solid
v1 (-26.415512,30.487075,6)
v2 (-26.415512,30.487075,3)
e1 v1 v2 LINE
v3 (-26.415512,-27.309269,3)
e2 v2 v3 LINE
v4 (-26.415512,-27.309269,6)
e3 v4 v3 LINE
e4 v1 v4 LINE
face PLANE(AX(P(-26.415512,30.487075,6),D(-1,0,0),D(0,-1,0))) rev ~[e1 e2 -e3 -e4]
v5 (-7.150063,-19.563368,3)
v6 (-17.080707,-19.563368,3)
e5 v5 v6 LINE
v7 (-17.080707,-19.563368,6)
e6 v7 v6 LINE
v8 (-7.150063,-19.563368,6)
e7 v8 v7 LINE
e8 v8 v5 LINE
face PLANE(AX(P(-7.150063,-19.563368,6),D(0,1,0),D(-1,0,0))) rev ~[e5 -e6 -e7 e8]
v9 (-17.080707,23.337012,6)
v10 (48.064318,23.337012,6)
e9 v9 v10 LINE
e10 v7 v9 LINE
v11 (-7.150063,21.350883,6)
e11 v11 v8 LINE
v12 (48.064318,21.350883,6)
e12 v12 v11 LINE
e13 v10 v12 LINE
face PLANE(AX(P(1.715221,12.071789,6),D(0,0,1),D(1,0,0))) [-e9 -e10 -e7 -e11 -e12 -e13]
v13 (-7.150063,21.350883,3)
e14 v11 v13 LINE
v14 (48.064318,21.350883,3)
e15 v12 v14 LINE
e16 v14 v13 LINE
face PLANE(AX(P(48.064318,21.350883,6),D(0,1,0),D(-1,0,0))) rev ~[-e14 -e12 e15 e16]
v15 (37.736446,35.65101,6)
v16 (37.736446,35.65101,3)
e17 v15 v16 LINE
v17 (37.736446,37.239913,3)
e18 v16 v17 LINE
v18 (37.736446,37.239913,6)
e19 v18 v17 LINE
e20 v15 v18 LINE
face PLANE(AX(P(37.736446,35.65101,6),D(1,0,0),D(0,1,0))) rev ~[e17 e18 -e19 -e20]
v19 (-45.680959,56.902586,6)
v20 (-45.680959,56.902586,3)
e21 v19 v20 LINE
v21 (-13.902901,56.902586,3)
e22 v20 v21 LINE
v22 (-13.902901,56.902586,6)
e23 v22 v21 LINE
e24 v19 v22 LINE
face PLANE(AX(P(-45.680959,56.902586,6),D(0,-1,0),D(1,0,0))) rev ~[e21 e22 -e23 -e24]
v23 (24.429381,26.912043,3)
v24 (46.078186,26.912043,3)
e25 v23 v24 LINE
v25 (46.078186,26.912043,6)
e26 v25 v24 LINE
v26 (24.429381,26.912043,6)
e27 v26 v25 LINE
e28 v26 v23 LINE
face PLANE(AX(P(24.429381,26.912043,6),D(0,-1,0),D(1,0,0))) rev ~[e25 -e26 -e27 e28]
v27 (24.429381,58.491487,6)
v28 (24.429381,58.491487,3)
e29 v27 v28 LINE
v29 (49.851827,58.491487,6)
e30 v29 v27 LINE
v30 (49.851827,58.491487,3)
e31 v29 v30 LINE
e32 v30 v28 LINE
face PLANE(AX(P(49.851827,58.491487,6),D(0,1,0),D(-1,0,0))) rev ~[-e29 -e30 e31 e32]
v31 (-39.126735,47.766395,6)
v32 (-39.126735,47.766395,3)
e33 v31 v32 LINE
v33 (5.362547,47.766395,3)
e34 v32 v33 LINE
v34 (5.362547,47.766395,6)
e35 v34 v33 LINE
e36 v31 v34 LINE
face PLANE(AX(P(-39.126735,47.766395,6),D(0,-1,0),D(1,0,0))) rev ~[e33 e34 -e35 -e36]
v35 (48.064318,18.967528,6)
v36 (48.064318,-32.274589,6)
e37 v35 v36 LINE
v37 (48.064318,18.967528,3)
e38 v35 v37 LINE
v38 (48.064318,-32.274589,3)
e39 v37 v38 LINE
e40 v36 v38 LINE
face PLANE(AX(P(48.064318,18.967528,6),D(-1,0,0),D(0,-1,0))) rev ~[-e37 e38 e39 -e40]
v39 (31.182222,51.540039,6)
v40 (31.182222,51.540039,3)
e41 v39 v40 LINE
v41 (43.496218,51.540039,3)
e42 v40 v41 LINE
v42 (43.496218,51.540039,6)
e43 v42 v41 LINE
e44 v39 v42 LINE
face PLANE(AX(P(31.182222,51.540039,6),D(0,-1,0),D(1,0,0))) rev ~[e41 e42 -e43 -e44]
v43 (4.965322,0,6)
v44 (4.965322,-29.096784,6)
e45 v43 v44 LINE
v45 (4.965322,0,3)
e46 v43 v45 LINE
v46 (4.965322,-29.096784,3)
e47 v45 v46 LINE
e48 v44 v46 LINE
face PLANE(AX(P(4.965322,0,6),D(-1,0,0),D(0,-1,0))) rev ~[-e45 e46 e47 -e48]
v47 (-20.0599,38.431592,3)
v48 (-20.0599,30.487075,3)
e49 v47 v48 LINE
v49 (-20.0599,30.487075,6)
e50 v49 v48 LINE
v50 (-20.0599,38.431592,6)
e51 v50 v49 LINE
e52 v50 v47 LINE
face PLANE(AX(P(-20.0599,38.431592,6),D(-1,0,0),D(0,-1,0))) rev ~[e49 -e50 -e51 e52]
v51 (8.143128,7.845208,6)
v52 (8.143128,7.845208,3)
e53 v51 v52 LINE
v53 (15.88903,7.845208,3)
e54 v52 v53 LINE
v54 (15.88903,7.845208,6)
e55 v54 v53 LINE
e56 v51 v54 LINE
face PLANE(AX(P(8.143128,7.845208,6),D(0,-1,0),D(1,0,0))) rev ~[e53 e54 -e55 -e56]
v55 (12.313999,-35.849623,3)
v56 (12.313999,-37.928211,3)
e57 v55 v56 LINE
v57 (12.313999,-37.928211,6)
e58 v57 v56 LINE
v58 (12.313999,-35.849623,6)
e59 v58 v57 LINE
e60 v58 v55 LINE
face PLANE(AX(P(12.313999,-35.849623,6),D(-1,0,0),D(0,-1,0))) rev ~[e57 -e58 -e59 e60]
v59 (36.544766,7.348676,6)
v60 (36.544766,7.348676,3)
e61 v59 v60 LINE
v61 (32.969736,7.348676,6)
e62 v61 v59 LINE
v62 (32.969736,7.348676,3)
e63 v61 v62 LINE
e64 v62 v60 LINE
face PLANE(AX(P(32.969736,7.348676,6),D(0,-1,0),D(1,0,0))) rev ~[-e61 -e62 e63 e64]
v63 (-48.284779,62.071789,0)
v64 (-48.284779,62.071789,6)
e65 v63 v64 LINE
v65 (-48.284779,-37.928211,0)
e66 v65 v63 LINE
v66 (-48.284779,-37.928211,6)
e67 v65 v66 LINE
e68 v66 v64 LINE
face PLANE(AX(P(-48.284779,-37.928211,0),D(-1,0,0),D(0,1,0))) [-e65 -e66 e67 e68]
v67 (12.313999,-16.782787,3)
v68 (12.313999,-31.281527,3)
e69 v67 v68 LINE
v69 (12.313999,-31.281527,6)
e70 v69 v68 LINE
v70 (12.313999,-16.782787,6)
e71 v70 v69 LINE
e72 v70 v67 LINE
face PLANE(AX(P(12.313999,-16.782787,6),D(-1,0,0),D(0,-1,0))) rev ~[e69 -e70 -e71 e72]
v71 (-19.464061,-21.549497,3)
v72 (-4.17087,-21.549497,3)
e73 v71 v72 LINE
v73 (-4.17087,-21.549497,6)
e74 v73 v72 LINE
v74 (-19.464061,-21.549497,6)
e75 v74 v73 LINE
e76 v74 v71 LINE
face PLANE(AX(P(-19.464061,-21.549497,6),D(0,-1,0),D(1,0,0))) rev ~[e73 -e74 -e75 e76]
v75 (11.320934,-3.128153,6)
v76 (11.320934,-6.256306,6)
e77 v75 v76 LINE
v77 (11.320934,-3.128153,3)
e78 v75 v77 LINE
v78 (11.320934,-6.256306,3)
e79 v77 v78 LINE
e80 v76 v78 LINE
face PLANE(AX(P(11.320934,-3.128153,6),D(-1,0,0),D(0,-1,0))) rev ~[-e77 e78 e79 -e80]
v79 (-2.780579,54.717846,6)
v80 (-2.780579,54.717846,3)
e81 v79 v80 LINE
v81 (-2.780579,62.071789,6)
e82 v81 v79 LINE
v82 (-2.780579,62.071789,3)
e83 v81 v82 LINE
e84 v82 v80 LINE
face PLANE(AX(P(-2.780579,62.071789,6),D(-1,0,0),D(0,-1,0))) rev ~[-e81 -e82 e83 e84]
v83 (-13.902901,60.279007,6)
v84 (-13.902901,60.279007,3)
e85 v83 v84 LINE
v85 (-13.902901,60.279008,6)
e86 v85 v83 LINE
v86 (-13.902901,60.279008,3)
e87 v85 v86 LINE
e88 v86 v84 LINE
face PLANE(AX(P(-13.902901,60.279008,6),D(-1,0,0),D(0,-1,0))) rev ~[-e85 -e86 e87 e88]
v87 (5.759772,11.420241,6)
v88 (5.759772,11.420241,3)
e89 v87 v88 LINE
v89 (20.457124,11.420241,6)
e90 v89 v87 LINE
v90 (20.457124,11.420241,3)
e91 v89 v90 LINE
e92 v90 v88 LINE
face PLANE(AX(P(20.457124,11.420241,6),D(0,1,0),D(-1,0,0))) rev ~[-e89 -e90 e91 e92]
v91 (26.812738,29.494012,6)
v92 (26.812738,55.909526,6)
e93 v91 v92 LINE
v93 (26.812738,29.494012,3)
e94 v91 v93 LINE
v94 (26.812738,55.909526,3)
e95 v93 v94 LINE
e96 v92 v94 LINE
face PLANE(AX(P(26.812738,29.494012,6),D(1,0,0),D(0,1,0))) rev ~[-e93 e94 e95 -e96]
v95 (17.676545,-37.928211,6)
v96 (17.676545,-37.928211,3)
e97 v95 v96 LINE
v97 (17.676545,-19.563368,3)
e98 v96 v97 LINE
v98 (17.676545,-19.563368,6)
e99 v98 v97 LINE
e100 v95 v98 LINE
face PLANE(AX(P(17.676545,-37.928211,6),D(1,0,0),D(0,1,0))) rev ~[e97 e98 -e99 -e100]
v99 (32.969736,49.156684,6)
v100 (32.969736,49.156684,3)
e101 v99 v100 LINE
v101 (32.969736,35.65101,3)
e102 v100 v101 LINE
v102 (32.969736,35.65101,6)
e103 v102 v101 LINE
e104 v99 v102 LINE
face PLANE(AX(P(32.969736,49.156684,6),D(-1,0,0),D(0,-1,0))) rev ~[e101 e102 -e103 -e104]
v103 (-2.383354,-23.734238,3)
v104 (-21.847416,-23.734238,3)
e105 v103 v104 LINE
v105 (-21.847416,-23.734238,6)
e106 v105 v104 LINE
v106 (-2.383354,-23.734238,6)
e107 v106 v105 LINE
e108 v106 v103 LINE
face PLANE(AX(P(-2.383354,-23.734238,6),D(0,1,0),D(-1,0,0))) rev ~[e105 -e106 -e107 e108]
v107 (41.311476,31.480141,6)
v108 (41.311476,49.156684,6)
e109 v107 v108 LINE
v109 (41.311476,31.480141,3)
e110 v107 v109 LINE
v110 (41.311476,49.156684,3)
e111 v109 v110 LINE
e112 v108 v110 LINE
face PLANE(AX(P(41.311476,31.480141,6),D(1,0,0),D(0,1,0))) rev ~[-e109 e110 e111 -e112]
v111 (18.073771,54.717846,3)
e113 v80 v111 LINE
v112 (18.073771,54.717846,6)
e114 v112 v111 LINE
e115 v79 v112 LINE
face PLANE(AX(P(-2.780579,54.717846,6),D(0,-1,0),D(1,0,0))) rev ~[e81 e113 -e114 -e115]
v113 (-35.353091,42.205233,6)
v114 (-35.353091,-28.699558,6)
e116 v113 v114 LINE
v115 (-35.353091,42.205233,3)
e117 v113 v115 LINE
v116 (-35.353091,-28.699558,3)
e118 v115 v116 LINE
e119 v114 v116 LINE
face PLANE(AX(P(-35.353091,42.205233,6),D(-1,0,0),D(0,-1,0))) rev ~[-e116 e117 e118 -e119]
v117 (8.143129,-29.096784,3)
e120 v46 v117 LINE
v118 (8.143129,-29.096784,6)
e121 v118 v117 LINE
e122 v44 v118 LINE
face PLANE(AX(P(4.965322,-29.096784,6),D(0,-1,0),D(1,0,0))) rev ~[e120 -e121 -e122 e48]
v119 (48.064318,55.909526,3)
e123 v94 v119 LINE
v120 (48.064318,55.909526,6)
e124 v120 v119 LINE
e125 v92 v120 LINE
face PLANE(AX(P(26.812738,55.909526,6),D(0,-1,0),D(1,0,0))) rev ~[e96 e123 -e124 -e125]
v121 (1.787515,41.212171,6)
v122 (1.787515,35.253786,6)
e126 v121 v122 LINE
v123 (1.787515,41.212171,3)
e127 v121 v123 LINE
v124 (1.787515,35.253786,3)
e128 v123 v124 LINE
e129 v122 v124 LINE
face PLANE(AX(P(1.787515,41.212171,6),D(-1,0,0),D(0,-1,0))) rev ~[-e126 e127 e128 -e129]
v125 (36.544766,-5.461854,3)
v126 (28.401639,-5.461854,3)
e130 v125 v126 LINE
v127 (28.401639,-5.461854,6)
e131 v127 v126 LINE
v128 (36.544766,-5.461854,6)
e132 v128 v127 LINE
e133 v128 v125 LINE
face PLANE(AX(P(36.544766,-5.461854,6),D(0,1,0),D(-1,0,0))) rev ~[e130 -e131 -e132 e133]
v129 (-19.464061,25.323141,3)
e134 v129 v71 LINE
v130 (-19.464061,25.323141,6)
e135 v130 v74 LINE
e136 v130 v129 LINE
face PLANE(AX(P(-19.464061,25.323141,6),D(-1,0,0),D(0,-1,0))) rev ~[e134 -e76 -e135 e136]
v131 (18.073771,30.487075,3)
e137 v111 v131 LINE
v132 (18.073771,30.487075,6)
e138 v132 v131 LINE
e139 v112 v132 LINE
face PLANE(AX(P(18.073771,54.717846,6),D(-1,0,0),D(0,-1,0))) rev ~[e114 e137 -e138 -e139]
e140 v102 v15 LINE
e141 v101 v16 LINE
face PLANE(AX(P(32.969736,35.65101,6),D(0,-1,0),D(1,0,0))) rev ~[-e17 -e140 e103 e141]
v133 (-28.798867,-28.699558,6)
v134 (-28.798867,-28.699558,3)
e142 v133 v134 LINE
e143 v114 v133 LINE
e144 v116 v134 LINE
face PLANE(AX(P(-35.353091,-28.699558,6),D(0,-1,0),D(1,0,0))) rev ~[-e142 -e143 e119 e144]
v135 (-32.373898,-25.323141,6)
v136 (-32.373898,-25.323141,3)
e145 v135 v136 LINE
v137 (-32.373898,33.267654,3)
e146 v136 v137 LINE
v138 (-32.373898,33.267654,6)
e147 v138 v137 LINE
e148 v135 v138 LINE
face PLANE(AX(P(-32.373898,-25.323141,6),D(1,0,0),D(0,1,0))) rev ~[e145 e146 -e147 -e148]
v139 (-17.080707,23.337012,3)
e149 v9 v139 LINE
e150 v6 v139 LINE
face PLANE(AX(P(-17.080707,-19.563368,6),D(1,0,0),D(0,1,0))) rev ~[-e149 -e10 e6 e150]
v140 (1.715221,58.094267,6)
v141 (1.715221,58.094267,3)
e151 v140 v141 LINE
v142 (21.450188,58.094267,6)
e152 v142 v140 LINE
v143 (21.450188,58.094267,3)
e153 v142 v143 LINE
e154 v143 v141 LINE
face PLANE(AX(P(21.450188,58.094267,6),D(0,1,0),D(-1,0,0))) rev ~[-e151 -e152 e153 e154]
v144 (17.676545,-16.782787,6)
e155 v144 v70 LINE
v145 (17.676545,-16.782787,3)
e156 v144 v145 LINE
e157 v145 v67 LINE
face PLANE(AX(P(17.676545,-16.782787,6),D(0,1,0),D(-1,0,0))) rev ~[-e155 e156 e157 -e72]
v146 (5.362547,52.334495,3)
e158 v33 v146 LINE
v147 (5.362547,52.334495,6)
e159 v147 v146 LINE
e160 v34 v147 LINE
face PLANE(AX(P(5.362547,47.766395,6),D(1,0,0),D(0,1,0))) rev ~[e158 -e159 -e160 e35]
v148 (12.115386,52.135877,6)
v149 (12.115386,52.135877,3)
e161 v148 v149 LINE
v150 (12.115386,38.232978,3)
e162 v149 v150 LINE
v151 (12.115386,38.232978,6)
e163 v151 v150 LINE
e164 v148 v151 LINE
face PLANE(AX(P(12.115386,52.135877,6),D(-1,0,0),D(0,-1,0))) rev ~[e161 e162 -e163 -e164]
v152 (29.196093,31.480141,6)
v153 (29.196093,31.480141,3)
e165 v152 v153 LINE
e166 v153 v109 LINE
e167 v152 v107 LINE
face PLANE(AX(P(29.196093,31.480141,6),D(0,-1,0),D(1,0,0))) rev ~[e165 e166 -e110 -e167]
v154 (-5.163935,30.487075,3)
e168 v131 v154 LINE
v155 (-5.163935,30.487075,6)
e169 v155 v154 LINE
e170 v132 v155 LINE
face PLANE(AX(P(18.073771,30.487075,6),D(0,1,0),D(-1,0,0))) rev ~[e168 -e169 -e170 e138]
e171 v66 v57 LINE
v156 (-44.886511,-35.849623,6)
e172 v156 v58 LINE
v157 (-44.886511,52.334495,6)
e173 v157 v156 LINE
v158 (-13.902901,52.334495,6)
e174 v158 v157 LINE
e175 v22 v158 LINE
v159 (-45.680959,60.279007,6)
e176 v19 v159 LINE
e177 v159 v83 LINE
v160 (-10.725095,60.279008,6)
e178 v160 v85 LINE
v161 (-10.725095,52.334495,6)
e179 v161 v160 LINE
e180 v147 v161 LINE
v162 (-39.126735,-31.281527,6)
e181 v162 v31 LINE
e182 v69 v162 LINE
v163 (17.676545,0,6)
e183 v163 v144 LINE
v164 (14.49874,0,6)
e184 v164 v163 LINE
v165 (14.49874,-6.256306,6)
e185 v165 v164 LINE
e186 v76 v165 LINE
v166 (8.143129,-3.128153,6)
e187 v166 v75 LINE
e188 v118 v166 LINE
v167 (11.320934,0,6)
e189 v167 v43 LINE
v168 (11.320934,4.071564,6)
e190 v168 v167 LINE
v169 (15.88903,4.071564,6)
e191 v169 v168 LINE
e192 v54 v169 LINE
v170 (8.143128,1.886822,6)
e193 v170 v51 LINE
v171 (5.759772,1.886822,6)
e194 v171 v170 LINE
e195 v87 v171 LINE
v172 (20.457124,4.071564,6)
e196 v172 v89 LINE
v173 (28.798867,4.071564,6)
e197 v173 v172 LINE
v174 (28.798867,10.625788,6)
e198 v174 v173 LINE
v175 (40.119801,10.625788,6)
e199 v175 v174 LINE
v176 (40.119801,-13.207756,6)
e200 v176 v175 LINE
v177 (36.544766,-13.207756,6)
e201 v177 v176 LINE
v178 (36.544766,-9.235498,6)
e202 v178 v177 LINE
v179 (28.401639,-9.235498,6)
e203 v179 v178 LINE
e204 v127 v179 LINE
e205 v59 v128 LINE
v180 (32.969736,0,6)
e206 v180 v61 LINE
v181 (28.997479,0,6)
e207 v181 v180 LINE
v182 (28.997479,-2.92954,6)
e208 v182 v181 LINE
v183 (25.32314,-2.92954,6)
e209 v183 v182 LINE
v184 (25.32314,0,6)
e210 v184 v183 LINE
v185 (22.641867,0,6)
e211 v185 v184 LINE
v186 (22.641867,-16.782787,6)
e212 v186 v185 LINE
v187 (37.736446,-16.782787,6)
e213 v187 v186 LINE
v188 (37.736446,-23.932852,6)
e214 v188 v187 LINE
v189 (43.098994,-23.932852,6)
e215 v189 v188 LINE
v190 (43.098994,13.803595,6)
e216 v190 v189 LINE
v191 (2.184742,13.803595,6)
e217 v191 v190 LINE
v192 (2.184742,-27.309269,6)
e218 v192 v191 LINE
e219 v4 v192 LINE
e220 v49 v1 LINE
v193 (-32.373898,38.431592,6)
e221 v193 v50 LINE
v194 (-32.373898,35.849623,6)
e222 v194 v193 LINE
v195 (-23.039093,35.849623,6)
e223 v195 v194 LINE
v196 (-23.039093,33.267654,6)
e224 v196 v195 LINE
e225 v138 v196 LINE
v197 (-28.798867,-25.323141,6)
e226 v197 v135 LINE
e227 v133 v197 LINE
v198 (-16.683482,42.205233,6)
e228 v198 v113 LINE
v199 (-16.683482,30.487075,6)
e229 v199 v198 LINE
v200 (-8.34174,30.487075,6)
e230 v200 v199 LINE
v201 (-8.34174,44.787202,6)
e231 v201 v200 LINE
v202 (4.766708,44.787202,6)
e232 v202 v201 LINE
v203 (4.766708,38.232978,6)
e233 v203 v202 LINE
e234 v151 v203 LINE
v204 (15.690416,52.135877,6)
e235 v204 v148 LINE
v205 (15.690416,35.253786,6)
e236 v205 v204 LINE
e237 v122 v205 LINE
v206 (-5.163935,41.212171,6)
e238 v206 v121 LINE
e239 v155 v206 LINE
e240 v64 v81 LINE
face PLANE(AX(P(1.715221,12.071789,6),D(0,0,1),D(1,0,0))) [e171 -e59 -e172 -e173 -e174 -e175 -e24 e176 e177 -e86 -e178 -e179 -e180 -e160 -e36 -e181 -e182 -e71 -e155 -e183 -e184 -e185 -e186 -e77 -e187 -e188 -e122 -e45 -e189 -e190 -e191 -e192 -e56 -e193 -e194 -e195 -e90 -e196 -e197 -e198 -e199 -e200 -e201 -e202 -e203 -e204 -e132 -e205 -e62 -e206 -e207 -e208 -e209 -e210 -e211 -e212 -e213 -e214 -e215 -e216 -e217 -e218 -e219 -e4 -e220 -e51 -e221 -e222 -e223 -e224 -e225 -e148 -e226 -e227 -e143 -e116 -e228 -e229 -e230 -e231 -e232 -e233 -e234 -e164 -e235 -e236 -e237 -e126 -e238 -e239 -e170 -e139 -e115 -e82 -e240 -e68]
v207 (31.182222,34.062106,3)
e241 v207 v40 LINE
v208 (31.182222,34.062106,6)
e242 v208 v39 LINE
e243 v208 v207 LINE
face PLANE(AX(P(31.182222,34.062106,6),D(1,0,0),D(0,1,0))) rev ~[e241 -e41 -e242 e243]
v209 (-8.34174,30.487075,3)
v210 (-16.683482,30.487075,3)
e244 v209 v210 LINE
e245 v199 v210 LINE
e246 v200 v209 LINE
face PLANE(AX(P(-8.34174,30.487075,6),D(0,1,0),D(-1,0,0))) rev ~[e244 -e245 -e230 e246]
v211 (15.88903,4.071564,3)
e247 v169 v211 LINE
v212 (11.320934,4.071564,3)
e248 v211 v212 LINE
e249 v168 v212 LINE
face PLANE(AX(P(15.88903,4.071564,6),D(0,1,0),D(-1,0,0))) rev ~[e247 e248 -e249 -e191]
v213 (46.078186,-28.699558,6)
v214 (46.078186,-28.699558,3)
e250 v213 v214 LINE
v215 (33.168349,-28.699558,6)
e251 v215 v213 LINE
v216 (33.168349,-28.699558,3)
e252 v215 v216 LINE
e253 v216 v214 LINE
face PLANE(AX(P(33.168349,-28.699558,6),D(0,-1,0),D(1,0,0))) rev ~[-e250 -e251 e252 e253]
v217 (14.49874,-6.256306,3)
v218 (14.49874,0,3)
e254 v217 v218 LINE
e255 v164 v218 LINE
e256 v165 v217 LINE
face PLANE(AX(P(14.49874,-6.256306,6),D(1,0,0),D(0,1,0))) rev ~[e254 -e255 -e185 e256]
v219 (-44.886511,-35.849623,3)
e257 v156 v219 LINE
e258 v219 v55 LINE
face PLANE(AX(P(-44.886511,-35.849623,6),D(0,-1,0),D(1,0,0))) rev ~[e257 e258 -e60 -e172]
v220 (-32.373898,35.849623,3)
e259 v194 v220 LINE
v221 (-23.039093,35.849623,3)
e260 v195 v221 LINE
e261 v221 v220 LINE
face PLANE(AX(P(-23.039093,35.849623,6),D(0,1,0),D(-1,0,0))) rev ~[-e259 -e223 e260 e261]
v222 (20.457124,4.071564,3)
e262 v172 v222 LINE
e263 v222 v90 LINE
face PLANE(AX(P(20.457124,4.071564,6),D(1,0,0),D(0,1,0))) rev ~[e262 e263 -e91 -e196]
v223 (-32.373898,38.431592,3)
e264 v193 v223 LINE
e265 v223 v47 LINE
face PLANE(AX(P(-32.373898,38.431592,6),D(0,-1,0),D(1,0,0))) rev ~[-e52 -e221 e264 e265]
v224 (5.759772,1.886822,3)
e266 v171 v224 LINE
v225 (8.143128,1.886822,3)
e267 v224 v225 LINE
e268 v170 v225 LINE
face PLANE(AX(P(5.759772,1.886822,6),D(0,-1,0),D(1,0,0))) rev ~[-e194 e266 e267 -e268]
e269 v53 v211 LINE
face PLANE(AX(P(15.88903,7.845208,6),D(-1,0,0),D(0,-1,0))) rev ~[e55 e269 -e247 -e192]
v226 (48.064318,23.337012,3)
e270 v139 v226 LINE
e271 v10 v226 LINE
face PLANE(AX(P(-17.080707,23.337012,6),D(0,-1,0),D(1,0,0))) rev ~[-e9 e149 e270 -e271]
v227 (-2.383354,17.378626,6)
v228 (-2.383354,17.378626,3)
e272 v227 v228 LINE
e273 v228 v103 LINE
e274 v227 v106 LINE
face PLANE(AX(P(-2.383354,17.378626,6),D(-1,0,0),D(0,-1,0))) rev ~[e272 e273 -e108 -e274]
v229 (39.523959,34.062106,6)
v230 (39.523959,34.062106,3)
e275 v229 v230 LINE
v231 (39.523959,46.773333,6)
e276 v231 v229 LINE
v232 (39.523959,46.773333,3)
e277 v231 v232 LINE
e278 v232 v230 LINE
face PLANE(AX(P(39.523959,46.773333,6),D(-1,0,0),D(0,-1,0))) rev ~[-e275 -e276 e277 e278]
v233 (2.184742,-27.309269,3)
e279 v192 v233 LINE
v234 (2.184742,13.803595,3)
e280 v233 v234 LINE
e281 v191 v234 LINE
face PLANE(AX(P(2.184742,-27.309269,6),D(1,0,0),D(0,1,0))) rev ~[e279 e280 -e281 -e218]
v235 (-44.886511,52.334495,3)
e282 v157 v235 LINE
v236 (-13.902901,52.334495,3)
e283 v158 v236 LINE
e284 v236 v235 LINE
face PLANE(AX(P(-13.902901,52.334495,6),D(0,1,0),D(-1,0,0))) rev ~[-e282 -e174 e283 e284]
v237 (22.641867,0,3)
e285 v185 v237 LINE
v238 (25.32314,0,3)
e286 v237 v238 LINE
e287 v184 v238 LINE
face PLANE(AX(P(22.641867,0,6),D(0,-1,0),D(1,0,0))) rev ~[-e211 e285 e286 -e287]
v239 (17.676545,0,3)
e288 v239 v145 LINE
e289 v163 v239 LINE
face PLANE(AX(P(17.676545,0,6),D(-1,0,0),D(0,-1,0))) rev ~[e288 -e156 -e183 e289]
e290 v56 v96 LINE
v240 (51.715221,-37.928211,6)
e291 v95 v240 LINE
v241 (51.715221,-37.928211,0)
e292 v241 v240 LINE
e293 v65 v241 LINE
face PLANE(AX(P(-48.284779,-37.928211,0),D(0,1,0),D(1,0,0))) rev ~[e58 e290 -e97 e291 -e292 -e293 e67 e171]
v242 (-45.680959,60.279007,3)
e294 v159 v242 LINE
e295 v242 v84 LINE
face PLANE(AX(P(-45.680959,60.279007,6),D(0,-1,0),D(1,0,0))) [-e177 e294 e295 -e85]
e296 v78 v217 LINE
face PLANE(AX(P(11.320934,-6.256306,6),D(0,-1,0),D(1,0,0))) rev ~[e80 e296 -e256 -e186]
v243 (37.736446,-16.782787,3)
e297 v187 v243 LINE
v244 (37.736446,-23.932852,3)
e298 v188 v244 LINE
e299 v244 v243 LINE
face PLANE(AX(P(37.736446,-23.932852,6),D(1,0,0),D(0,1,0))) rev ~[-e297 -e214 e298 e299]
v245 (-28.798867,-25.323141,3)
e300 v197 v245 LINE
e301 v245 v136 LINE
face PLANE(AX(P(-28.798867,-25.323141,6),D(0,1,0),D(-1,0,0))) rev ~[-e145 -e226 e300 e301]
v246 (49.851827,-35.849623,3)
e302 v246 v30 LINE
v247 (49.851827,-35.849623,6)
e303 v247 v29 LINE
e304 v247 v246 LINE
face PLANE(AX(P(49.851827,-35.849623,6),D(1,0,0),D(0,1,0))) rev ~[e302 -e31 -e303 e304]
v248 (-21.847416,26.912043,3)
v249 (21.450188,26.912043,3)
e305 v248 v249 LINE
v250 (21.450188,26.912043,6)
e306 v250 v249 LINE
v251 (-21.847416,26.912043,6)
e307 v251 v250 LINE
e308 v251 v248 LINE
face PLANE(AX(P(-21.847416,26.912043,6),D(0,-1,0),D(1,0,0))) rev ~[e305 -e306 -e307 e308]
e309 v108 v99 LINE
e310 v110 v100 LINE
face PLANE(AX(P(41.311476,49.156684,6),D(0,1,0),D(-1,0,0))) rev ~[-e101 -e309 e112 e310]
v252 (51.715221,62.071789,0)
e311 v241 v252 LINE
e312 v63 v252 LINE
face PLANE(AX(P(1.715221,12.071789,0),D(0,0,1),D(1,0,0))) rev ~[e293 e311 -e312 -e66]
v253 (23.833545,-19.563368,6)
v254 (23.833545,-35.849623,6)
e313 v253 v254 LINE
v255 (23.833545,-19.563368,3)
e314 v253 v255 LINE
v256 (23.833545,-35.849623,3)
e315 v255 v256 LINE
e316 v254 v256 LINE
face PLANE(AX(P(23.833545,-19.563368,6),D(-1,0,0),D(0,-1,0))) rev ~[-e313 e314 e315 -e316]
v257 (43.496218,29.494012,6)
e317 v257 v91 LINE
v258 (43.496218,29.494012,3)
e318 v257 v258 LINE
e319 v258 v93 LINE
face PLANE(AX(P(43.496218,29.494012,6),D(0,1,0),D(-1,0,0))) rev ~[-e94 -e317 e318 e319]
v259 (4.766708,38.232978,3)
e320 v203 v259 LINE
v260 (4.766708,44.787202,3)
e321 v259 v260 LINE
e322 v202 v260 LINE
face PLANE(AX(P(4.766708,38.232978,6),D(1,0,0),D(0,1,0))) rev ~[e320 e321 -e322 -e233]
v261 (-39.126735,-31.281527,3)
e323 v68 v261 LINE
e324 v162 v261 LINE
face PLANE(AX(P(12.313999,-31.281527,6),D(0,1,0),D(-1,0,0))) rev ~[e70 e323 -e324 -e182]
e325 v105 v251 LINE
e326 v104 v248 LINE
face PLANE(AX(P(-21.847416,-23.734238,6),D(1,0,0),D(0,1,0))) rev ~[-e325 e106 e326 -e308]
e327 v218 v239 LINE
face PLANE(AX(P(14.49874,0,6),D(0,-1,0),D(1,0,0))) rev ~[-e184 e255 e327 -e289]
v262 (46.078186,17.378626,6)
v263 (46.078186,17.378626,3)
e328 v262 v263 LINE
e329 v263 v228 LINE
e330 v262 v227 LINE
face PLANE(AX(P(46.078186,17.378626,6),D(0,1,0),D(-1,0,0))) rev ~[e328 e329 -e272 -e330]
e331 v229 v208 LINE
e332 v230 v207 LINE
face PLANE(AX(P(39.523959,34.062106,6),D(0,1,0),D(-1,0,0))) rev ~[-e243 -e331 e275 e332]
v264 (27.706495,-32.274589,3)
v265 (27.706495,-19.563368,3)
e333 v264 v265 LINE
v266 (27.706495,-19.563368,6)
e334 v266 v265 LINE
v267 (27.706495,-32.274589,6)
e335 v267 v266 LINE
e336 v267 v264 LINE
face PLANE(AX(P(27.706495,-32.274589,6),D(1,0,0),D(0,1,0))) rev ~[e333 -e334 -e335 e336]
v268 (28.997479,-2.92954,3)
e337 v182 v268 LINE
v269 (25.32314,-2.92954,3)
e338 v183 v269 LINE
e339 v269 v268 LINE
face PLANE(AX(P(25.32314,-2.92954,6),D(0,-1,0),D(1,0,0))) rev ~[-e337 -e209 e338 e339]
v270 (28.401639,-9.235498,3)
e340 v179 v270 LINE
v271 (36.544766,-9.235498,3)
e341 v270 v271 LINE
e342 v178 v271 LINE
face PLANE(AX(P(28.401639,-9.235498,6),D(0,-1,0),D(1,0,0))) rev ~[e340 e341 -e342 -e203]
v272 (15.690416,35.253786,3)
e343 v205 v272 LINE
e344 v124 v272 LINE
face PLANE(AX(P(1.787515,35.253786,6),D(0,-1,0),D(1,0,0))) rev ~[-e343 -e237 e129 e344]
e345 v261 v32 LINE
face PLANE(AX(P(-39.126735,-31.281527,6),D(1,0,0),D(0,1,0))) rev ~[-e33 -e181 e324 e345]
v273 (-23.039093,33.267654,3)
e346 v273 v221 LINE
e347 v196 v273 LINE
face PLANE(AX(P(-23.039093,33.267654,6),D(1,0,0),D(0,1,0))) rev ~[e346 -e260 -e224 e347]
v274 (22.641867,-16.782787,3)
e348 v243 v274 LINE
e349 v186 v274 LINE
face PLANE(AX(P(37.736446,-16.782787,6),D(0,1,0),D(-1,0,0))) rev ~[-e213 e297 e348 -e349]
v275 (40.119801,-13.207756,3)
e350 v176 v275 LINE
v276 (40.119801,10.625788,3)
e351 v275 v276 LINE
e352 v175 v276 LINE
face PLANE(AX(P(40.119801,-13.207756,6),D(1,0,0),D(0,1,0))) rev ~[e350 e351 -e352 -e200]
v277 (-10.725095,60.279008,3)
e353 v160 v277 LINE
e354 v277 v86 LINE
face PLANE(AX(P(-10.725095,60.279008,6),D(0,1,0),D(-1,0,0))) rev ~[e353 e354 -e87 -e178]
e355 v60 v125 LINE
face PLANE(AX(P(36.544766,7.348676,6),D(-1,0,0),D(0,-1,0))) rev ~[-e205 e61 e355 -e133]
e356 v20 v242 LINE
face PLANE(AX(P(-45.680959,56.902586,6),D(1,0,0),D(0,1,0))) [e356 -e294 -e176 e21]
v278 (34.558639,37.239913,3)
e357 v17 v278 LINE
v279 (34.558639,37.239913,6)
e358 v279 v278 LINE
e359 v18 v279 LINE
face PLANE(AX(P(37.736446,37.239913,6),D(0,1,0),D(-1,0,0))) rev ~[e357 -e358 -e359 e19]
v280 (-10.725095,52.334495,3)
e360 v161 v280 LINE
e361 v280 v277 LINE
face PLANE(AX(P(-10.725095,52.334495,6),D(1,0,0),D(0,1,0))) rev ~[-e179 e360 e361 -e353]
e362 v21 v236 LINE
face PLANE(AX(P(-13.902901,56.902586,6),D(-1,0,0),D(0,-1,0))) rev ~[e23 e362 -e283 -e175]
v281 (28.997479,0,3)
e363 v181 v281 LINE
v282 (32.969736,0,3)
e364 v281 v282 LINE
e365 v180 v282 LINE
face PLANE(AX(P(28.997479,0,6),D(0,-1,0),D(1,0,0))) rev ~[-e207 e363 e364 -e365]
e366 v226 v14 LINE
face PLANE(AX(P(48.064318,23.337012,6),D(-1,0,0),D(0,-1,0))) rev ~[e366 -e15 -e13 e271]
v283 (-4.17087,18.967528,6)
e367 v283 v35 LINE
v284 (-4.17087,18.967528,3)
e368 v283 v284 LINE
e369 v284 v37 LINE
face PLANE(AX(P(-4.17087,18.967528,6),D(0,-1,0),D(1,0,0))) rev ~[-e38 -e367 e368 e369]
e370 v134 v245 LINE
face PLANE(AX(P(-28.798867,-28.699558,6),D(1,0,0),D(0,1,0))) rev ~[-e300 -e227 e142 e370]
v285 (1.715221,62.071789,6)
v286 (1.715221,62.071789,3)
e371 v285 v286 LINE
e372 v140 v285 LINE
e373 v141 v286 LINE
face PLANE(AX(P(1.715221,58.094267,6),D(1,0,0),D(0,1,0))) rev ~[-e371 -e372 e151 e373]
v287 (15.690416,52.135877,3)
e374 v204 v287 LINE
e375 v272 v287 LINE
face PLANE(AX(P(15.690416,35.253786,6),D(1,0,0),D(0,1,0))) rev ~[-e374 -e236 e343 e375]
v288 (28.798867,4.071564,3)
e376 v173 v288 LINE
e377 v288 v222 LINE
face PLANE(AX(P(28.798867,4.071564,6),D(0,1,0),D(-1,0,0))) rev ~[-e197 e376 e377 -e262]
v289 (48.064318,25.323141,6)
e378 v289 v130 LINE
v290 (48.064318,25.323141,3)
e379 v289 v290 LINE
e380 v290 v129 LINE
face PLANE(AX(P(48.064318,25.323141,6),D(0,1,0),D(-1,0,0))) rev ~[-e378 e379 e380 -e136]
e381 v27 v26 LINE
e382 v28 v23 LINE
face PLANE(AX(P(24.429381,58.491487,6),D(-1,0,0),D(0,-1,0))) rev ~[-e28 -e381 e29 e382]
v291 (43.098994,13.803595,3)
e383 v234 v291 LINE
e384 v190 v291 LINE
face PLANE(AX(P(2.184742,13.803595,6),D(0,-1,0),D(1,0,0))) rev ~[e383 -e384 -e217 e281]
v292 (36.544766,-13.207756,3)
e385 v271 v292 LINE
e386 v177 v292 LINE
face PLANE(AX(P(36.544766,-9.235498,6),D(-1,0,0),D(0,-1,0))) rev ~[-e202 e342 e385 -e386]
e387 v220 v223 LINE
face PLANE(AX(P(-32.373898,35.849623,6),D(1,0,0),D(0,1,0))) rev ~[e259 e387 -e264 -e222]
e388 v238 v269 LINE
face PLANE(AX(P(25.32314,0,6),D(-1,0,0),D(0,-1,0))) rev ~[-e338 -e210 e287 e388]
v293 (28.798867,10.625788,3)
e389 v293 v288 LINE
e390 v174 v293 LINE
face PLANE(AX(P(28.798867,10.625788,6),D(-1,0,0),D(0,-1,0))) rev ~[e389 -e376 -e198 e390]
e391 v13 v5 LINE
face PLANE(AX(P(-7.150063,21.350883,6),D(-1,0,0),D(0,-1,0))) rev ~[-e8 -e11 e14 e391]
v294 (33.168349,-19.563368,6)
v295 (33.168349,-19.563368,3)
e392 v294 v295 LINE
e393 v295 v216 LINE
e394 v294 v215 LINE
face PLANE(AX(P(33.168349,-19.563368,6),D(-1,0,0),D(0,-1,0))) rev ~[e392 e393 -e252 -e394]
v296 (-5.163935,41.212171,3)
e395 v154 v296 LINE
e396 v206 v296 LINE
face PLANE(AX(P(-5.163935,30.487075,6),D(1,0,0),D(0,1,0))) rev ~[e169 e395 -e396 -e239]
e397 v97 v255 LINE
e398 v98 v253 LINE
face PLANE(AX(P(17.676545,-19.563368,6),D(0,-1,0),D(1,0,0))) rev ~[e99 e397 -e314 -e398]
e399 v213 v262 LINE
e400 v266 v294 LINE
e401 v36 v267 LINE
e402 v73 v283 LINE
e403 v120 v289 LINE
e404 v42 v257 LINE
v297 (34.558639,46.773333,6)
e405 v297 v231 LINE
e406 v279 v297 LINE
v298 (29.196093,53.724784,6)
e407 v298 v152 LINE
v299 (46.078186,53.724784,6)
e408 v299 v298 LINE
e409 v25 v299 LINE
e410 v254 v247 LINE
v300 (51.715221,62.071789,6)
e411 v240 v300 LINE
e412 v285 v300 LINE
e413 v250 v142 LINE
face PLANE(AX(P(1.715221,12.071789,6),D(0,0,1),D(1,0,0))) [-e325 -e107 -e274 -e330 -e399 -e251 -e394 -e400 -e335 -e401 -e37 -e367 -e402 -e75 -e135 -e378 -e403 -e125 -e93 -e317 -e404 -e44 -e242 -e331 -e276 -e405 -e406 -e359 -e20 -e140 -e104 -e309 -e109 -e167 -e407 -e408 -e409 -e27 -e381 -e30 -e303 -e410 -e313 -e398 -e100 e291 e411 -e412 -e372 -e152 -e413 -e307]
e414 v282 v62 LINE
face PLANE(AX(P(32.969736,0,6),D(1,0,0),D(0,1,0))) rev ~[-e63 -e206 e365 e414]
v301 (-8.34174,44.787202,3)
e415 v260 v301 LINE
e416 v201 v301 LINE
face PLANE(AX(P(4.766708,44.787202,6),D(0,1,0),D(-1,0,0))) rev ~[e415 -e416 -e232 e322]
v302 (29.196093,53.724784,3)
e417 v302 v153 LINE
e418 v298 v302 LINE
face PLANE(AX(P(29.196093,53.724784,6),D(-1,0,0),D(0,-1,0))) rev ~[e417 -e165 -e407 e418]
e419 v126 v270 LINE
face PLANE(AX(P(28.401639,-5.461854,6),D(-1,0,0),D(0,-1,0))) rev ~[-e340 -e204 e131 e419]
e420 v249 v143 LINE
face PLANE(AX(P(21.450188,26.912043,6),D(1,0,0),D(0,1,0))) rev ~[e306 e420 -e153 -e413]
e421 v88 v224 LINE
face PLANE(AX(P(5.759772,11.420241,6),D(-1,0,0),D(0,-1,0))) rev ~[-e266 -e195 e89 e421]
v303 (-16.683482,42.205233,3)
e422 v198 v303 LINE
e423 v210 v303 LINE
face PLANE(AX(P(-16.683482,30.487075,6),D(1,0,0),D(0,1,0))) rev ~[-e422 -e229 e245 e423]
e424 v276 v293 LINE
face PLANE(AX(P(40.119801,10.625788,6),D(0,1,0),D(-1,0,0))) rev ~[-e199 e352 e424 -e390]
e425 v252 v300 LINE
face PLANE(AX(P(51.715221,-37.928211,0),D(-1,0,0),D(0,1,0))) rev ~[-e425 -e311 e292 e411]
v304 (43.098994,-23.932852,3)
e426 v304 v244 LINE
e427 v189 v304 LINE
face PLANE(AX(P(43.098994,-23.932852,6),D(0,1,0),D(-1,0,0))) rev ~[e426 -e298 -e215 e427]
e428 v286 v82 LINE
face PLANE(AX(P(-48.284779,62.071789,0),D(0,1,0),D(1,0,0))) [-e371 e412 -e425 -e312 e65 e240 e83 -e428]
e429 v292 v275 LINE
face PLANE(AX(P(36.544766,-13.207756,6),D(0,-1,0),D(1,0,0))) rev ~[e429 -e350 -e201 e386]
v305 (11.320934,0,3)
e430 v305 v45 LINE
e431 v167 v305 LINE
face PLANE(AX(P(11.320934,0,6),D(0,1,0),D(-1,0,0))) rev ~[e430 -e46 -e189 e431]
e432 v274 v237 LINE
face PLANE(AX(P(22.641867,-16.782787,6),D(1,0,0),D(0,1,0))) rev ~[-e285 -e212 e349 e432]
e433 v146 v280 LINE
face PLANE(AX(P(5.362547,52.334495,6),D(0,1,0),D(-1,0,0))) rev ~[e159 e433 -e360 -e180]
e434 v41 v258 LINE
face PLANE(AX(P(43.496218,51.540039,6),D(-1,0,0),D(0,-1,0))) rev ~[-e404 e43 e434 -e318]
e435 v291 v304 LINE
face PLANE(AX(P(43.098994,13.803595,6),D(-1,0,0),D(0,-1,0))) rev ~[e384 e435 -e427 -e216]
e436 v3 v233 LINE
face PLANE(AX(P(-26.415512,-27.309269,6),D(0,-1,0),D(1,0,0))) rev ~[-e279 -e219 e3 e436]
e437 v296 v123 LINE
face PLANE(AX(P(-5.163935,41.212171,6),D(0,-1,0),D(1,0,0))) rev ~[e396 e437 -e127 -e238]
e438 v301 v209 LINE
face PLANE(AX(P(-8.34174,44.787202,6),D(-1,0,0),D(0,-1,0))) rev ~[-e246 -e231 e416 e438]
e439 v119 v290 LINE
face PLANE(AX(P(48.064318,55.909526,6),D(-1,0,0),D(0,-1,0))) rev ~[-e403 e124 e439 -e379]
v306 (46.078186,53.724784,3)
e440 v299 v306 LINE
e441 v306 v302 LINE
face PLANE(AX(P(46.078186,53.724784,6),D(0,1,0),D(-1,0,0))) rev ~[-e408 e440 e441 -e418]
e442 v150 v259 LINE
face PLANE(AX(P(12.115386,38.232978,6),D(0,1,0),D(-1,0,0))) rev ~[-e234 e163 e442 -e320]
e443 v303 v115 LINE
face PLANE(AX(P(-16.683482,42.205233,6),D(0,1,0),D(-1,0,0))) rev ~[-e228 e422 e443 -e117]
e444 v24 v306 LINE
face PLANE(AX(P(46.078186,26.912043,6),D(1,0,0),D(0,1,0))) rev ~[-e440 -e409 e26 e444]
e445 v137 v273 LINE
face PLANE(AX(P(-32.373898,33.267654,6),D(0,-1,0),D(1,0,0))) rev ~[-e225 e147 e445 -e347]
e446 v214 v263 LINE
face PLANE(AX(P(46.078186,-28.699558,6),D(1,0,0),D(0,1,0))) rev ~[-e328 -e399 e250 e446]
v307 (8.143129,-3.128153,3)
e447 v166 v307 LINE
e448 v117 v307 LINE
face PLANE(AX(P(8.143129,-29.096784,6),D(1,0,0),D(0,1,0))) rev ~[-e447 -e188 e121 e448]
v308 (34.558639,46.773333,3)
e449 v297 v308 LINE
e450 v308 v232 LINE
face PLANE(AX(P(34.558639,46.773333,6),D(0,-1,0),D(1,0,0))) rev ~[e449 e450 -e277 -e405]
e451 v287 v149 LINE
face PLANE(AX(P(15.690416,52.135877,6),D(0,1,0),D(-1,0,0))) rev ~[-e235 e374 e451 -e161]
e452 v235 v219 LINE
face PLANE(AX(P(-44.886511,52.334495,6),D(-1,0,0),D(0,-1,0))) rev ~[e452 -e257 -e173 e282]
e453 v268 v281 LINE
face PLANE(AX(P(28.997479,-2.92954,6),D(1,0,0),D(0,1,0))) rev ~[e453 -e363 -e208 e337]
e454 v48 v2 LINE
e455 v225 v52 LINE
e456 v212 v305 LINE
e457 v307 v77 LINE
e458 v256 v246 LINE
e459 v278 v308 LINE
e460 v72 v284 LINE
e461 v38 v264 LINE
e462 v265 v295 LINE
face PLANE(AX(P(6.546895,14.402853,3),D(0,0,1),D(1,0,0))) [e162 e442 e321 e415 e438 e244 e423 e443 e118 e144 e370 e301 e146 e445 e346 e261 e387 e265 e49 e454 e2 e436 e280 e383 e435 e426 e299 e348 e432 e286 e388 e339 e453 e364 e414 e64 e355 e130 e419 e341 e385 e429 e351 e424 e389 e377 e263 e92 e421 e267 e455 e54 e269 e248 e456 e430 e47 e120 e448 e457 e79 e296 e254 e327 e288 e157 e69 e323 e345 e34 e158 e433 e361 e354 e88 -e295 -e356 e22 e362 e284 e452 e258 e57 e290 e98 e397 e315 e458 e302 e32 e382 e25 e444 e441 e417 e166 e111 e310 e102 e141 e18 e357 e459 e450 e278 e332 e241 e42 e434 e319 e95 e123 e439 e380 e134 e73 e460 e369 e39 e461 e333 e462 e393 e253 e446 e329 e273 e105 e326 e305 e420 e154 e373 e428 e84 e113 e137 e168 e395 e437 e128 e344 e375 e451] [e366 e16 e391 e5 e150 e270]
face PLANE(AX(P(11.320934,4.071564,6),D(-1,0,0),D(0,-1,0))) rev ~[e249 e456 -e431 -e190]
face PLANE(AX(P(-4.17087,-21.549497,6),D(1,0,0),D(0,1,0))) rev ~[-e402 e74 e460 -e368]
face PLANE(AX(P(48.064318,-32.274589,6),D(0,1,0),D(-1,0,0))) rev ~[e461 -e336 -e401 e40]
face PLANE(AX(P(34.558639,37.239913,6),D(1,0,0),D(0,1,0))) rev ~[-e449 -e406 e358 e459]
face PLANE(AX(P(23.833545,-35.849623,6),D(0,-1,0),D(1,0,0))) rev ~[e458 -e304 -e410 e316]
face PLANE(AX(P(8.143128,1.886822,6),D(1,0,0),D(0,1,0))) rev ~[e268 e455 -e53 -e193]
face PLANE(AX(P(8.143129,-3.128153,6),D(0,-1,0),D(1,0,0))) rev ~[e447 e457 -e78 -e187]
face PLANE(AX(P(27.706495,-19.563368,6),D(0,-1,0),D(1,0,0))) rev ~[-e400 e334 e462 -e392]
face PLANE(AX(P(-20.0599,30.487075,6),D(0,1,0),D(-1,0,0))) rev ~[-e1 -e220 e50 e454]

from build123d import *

# Parameters (mm, degrees)
F0_W     = 100
F0_H     = 100
F1_DEPTH = 6
F2_W     = 31.778058
F2_H     = 3.376421
F3_DEPTH = 3


with BuildPart() as f1:
    # F0 (on Top) → F1 (new body)
    with BuildSketch(Plane.XY):
        with Locations((1.715221, 12.071789)):
            Rectangle(F0_W, F0_H)
    extrude(amount=F1_DEPTH)

    # F2 (on face) → F3 (cut)
    with BuildSketch(Plane.XY.offset(6)):
        Polygon((12.313999, -35.849623), (12.313999, -37.928211), (17.676545, -37.928211), (17.676545, -19.563368), (23.833545, -19.563368), (23.833545, -35.849623), (27.706495, -35.849623), (49.851827, -35.849623), (49.851827, -32.274589), (49.851827, 58.491487), (48.064318, 58.491487), (24.429381, 58.491487), (24.429381, 55.909526), (24.429381, 26.912043), (26.812738, 26.912043), (46.078186, 26.912043), (46.078186, 29.494012), (46.078186, 53.724784), (43.496218, 53.724784), (29.196093, 53.724784), (29.196093, 51.540039), (29.196093, 31.480141), (31.182222, 31.480141), (41.311476, 31.480141), (41.311476, 34.062106), (41.311476, 49.156684), (39.523959, 49.156684), (32.969736, 49.156684), (32.969736, 46.773333), (32.969736, 35.65101), (34.558639, 35.65101), (37.736446, 35.65101), (37.736446, 37.239913), (34.558639, 37.239913), (34.558639, 46.773333), (39.523959, 46.773333), (39.523959, 34.062106), (31.182222, 34.062106), (31.182222, 51.540039), (43.496218, 51.540039), (43.496218, 29.494012), (26.812738, 29.494012), (26.812738, 55.909526), (48.064318, 55.909526), (48.064318, 25.323141), (-17.080707, 25.323141), (-19.464061, 25.323141), (-19.464061, -19.563368), (-19.464061, -21.549497), (-7.150063, -21.549497), (-4.17087, -21.549497), (-4.17087, 18.967528), (48.064318, 18.967528), (48.064318, -32.274589), (27.706495, -32.274589), (27.706495, -19.563368), (33.168349, -19.563368), (33.168349, -28.699558), (37.736446, -28.699558), (43.098994, -28.699558), (46.078186, -28.699558), (46.078186, 17.378626), (43.098994, 17.378626), (2.184742, 17.378626), (-2.383354, 17.378626), (-2.383354, -23.734238), (-21.847416, -23.734238), (-21.847416, 26.912043), (18.073771, 26.912043), (21.450188, 26.912043), (21.450188, 58.094267), (18.073771, 58.094267), (1.715221, 58.094267), (1.715221, 62.071789), (-2.780579, 62.071789), (-2.780579, 58.094267), (-2.780579, 54.717846), (18.073771, 54.717846), (18.073771, 30.487075), (-5.163935, 30.487075), (-5.163935, 41.212171), (1.787515, 41.212171), (1.787515, 35.253786), (4.766708, 35.253786), (15.690416, 35.253786), (15.690416, 38.232978), (15.690416, 52.135877), (12.115386, 52.135877), (12.115386, 38.232978), (4.766708, 38.232978), (4.766708, 41.212171), (4.766708, 44.787202), (-5.163935, 44.787202), (-8.34174, 44.787202), (-8.34174, 30.487075), (-16.683482, 30.487075), (-16.683482, 42.205233), (-20.0599, 42.205233), (-35.353091, 42.205233), (-35.353091, 38.431592), (-35.353091, -28.699558), (-32.373898, -28.699558), (-28.798867, -28.699558), (-28.798867, -25.323141), (-32.373898, -25.323141), (-32.373898, 33.267654), (-23.039093, 33.267654), (-23.039093, 35.849623), (-32.373898, 35.849623), (-32.373898, 38.431592), (-20.0599, 38.431592), (-20.0599, 30.487075), (-21.847416, 30.487075), (-26.415512, 30.487075), (-26.415512, -23.734238), (-26.415512, -27.309269), (-2.383354, -27.309269), (2.184742, -27.309269), (2.184742, 13.803595), (43.098994, 13.803595), (43.098994, -23.932852), (37.736446, -23.932852), (37.736446, -19.563368), (37.736446, -16.782787), (22.641867, -16.782787), (17.676545, -16.782787), (12.313999, -16.782787), (12.313999, -31.281527), (-39.126735, -31.281527), (-39.126735, 47.766395), (5.362547, 47.766395), (5.362547, 52.334495), (-10.725095, 52.334495), (-13.902901, 52.334495), (-39.126735, 52.334495), (-44.886511, 52.334495), (-44.886511, -31.281527), (-44.886511, -35.849623), align=None)
        Polygon((48.064318, 23.337012), (48.064318, 21.350883), (-4.17087, 21.350883), (-7.150063, 21.350883), (-7.150063, -19.563368), (-17.080707, -19.563368), (-17.080707, 23.337012), align=None, mode=Mode.SUBTRACT)
        Polygon((-13.902901, 56.902587), (-13.902901, 52.334495), (-10.725095, 52.334495), (-10.725095, 60.279008), (-13.902901, 60.279008), align=None)
        with Locations((-29.79193, 58.590797)):
            Rectangle(F2_W, F2_H)
        Polygon((17.676545, 0), (17.676545, -16.782787), (22.641867, -16.782787), (22.641867, 0), (25.32314, 0), (25.32314, -2.92954), (28.997479, -2.92954), (28.997479, 0), (32.969736, 0), (32.969736, 4.071564), (32.969736, 7.348676), (36.544766, 7.348676), (36.544766, -5.461854), (28.401639, -5.461854), (28.401639, -9.235498), (36.544766, -9.235498), (36.544766, -13.207756), (40.119801, -13.207756), (40.119801, 7.348676), (40.119801, 10.625788), (32.969736, 10.625788), (28.798867, 10.625788), (28.798867, 4.071564), (20.457124, 4.071564), (20.457124, 11.420241), (15.88903, 11.420241), (5.759772, 11.420241), (5.759772, 7.845208), (5.759772, 1.886822), (8.143128, 1.886822), (8.143128, 7.845208), (15.88903, 7.845208), (15.88903, 4.071564), (11.320934, 4.071564), (11.320934, 0), (4.965322, 0), (4.965322, -3.128153), (4.965322, -29.096784), (8.143129, -29.096784), (8.143129, -3.128153), (11.320934, -3.128153), (11.320934, -6.256306), (14.49874, -6.256306), (14.49874, 0), align=None)
    extrude(amount=-F3_DEPTH, mode=Mode.SUBTRACT)


solid = f1.part
